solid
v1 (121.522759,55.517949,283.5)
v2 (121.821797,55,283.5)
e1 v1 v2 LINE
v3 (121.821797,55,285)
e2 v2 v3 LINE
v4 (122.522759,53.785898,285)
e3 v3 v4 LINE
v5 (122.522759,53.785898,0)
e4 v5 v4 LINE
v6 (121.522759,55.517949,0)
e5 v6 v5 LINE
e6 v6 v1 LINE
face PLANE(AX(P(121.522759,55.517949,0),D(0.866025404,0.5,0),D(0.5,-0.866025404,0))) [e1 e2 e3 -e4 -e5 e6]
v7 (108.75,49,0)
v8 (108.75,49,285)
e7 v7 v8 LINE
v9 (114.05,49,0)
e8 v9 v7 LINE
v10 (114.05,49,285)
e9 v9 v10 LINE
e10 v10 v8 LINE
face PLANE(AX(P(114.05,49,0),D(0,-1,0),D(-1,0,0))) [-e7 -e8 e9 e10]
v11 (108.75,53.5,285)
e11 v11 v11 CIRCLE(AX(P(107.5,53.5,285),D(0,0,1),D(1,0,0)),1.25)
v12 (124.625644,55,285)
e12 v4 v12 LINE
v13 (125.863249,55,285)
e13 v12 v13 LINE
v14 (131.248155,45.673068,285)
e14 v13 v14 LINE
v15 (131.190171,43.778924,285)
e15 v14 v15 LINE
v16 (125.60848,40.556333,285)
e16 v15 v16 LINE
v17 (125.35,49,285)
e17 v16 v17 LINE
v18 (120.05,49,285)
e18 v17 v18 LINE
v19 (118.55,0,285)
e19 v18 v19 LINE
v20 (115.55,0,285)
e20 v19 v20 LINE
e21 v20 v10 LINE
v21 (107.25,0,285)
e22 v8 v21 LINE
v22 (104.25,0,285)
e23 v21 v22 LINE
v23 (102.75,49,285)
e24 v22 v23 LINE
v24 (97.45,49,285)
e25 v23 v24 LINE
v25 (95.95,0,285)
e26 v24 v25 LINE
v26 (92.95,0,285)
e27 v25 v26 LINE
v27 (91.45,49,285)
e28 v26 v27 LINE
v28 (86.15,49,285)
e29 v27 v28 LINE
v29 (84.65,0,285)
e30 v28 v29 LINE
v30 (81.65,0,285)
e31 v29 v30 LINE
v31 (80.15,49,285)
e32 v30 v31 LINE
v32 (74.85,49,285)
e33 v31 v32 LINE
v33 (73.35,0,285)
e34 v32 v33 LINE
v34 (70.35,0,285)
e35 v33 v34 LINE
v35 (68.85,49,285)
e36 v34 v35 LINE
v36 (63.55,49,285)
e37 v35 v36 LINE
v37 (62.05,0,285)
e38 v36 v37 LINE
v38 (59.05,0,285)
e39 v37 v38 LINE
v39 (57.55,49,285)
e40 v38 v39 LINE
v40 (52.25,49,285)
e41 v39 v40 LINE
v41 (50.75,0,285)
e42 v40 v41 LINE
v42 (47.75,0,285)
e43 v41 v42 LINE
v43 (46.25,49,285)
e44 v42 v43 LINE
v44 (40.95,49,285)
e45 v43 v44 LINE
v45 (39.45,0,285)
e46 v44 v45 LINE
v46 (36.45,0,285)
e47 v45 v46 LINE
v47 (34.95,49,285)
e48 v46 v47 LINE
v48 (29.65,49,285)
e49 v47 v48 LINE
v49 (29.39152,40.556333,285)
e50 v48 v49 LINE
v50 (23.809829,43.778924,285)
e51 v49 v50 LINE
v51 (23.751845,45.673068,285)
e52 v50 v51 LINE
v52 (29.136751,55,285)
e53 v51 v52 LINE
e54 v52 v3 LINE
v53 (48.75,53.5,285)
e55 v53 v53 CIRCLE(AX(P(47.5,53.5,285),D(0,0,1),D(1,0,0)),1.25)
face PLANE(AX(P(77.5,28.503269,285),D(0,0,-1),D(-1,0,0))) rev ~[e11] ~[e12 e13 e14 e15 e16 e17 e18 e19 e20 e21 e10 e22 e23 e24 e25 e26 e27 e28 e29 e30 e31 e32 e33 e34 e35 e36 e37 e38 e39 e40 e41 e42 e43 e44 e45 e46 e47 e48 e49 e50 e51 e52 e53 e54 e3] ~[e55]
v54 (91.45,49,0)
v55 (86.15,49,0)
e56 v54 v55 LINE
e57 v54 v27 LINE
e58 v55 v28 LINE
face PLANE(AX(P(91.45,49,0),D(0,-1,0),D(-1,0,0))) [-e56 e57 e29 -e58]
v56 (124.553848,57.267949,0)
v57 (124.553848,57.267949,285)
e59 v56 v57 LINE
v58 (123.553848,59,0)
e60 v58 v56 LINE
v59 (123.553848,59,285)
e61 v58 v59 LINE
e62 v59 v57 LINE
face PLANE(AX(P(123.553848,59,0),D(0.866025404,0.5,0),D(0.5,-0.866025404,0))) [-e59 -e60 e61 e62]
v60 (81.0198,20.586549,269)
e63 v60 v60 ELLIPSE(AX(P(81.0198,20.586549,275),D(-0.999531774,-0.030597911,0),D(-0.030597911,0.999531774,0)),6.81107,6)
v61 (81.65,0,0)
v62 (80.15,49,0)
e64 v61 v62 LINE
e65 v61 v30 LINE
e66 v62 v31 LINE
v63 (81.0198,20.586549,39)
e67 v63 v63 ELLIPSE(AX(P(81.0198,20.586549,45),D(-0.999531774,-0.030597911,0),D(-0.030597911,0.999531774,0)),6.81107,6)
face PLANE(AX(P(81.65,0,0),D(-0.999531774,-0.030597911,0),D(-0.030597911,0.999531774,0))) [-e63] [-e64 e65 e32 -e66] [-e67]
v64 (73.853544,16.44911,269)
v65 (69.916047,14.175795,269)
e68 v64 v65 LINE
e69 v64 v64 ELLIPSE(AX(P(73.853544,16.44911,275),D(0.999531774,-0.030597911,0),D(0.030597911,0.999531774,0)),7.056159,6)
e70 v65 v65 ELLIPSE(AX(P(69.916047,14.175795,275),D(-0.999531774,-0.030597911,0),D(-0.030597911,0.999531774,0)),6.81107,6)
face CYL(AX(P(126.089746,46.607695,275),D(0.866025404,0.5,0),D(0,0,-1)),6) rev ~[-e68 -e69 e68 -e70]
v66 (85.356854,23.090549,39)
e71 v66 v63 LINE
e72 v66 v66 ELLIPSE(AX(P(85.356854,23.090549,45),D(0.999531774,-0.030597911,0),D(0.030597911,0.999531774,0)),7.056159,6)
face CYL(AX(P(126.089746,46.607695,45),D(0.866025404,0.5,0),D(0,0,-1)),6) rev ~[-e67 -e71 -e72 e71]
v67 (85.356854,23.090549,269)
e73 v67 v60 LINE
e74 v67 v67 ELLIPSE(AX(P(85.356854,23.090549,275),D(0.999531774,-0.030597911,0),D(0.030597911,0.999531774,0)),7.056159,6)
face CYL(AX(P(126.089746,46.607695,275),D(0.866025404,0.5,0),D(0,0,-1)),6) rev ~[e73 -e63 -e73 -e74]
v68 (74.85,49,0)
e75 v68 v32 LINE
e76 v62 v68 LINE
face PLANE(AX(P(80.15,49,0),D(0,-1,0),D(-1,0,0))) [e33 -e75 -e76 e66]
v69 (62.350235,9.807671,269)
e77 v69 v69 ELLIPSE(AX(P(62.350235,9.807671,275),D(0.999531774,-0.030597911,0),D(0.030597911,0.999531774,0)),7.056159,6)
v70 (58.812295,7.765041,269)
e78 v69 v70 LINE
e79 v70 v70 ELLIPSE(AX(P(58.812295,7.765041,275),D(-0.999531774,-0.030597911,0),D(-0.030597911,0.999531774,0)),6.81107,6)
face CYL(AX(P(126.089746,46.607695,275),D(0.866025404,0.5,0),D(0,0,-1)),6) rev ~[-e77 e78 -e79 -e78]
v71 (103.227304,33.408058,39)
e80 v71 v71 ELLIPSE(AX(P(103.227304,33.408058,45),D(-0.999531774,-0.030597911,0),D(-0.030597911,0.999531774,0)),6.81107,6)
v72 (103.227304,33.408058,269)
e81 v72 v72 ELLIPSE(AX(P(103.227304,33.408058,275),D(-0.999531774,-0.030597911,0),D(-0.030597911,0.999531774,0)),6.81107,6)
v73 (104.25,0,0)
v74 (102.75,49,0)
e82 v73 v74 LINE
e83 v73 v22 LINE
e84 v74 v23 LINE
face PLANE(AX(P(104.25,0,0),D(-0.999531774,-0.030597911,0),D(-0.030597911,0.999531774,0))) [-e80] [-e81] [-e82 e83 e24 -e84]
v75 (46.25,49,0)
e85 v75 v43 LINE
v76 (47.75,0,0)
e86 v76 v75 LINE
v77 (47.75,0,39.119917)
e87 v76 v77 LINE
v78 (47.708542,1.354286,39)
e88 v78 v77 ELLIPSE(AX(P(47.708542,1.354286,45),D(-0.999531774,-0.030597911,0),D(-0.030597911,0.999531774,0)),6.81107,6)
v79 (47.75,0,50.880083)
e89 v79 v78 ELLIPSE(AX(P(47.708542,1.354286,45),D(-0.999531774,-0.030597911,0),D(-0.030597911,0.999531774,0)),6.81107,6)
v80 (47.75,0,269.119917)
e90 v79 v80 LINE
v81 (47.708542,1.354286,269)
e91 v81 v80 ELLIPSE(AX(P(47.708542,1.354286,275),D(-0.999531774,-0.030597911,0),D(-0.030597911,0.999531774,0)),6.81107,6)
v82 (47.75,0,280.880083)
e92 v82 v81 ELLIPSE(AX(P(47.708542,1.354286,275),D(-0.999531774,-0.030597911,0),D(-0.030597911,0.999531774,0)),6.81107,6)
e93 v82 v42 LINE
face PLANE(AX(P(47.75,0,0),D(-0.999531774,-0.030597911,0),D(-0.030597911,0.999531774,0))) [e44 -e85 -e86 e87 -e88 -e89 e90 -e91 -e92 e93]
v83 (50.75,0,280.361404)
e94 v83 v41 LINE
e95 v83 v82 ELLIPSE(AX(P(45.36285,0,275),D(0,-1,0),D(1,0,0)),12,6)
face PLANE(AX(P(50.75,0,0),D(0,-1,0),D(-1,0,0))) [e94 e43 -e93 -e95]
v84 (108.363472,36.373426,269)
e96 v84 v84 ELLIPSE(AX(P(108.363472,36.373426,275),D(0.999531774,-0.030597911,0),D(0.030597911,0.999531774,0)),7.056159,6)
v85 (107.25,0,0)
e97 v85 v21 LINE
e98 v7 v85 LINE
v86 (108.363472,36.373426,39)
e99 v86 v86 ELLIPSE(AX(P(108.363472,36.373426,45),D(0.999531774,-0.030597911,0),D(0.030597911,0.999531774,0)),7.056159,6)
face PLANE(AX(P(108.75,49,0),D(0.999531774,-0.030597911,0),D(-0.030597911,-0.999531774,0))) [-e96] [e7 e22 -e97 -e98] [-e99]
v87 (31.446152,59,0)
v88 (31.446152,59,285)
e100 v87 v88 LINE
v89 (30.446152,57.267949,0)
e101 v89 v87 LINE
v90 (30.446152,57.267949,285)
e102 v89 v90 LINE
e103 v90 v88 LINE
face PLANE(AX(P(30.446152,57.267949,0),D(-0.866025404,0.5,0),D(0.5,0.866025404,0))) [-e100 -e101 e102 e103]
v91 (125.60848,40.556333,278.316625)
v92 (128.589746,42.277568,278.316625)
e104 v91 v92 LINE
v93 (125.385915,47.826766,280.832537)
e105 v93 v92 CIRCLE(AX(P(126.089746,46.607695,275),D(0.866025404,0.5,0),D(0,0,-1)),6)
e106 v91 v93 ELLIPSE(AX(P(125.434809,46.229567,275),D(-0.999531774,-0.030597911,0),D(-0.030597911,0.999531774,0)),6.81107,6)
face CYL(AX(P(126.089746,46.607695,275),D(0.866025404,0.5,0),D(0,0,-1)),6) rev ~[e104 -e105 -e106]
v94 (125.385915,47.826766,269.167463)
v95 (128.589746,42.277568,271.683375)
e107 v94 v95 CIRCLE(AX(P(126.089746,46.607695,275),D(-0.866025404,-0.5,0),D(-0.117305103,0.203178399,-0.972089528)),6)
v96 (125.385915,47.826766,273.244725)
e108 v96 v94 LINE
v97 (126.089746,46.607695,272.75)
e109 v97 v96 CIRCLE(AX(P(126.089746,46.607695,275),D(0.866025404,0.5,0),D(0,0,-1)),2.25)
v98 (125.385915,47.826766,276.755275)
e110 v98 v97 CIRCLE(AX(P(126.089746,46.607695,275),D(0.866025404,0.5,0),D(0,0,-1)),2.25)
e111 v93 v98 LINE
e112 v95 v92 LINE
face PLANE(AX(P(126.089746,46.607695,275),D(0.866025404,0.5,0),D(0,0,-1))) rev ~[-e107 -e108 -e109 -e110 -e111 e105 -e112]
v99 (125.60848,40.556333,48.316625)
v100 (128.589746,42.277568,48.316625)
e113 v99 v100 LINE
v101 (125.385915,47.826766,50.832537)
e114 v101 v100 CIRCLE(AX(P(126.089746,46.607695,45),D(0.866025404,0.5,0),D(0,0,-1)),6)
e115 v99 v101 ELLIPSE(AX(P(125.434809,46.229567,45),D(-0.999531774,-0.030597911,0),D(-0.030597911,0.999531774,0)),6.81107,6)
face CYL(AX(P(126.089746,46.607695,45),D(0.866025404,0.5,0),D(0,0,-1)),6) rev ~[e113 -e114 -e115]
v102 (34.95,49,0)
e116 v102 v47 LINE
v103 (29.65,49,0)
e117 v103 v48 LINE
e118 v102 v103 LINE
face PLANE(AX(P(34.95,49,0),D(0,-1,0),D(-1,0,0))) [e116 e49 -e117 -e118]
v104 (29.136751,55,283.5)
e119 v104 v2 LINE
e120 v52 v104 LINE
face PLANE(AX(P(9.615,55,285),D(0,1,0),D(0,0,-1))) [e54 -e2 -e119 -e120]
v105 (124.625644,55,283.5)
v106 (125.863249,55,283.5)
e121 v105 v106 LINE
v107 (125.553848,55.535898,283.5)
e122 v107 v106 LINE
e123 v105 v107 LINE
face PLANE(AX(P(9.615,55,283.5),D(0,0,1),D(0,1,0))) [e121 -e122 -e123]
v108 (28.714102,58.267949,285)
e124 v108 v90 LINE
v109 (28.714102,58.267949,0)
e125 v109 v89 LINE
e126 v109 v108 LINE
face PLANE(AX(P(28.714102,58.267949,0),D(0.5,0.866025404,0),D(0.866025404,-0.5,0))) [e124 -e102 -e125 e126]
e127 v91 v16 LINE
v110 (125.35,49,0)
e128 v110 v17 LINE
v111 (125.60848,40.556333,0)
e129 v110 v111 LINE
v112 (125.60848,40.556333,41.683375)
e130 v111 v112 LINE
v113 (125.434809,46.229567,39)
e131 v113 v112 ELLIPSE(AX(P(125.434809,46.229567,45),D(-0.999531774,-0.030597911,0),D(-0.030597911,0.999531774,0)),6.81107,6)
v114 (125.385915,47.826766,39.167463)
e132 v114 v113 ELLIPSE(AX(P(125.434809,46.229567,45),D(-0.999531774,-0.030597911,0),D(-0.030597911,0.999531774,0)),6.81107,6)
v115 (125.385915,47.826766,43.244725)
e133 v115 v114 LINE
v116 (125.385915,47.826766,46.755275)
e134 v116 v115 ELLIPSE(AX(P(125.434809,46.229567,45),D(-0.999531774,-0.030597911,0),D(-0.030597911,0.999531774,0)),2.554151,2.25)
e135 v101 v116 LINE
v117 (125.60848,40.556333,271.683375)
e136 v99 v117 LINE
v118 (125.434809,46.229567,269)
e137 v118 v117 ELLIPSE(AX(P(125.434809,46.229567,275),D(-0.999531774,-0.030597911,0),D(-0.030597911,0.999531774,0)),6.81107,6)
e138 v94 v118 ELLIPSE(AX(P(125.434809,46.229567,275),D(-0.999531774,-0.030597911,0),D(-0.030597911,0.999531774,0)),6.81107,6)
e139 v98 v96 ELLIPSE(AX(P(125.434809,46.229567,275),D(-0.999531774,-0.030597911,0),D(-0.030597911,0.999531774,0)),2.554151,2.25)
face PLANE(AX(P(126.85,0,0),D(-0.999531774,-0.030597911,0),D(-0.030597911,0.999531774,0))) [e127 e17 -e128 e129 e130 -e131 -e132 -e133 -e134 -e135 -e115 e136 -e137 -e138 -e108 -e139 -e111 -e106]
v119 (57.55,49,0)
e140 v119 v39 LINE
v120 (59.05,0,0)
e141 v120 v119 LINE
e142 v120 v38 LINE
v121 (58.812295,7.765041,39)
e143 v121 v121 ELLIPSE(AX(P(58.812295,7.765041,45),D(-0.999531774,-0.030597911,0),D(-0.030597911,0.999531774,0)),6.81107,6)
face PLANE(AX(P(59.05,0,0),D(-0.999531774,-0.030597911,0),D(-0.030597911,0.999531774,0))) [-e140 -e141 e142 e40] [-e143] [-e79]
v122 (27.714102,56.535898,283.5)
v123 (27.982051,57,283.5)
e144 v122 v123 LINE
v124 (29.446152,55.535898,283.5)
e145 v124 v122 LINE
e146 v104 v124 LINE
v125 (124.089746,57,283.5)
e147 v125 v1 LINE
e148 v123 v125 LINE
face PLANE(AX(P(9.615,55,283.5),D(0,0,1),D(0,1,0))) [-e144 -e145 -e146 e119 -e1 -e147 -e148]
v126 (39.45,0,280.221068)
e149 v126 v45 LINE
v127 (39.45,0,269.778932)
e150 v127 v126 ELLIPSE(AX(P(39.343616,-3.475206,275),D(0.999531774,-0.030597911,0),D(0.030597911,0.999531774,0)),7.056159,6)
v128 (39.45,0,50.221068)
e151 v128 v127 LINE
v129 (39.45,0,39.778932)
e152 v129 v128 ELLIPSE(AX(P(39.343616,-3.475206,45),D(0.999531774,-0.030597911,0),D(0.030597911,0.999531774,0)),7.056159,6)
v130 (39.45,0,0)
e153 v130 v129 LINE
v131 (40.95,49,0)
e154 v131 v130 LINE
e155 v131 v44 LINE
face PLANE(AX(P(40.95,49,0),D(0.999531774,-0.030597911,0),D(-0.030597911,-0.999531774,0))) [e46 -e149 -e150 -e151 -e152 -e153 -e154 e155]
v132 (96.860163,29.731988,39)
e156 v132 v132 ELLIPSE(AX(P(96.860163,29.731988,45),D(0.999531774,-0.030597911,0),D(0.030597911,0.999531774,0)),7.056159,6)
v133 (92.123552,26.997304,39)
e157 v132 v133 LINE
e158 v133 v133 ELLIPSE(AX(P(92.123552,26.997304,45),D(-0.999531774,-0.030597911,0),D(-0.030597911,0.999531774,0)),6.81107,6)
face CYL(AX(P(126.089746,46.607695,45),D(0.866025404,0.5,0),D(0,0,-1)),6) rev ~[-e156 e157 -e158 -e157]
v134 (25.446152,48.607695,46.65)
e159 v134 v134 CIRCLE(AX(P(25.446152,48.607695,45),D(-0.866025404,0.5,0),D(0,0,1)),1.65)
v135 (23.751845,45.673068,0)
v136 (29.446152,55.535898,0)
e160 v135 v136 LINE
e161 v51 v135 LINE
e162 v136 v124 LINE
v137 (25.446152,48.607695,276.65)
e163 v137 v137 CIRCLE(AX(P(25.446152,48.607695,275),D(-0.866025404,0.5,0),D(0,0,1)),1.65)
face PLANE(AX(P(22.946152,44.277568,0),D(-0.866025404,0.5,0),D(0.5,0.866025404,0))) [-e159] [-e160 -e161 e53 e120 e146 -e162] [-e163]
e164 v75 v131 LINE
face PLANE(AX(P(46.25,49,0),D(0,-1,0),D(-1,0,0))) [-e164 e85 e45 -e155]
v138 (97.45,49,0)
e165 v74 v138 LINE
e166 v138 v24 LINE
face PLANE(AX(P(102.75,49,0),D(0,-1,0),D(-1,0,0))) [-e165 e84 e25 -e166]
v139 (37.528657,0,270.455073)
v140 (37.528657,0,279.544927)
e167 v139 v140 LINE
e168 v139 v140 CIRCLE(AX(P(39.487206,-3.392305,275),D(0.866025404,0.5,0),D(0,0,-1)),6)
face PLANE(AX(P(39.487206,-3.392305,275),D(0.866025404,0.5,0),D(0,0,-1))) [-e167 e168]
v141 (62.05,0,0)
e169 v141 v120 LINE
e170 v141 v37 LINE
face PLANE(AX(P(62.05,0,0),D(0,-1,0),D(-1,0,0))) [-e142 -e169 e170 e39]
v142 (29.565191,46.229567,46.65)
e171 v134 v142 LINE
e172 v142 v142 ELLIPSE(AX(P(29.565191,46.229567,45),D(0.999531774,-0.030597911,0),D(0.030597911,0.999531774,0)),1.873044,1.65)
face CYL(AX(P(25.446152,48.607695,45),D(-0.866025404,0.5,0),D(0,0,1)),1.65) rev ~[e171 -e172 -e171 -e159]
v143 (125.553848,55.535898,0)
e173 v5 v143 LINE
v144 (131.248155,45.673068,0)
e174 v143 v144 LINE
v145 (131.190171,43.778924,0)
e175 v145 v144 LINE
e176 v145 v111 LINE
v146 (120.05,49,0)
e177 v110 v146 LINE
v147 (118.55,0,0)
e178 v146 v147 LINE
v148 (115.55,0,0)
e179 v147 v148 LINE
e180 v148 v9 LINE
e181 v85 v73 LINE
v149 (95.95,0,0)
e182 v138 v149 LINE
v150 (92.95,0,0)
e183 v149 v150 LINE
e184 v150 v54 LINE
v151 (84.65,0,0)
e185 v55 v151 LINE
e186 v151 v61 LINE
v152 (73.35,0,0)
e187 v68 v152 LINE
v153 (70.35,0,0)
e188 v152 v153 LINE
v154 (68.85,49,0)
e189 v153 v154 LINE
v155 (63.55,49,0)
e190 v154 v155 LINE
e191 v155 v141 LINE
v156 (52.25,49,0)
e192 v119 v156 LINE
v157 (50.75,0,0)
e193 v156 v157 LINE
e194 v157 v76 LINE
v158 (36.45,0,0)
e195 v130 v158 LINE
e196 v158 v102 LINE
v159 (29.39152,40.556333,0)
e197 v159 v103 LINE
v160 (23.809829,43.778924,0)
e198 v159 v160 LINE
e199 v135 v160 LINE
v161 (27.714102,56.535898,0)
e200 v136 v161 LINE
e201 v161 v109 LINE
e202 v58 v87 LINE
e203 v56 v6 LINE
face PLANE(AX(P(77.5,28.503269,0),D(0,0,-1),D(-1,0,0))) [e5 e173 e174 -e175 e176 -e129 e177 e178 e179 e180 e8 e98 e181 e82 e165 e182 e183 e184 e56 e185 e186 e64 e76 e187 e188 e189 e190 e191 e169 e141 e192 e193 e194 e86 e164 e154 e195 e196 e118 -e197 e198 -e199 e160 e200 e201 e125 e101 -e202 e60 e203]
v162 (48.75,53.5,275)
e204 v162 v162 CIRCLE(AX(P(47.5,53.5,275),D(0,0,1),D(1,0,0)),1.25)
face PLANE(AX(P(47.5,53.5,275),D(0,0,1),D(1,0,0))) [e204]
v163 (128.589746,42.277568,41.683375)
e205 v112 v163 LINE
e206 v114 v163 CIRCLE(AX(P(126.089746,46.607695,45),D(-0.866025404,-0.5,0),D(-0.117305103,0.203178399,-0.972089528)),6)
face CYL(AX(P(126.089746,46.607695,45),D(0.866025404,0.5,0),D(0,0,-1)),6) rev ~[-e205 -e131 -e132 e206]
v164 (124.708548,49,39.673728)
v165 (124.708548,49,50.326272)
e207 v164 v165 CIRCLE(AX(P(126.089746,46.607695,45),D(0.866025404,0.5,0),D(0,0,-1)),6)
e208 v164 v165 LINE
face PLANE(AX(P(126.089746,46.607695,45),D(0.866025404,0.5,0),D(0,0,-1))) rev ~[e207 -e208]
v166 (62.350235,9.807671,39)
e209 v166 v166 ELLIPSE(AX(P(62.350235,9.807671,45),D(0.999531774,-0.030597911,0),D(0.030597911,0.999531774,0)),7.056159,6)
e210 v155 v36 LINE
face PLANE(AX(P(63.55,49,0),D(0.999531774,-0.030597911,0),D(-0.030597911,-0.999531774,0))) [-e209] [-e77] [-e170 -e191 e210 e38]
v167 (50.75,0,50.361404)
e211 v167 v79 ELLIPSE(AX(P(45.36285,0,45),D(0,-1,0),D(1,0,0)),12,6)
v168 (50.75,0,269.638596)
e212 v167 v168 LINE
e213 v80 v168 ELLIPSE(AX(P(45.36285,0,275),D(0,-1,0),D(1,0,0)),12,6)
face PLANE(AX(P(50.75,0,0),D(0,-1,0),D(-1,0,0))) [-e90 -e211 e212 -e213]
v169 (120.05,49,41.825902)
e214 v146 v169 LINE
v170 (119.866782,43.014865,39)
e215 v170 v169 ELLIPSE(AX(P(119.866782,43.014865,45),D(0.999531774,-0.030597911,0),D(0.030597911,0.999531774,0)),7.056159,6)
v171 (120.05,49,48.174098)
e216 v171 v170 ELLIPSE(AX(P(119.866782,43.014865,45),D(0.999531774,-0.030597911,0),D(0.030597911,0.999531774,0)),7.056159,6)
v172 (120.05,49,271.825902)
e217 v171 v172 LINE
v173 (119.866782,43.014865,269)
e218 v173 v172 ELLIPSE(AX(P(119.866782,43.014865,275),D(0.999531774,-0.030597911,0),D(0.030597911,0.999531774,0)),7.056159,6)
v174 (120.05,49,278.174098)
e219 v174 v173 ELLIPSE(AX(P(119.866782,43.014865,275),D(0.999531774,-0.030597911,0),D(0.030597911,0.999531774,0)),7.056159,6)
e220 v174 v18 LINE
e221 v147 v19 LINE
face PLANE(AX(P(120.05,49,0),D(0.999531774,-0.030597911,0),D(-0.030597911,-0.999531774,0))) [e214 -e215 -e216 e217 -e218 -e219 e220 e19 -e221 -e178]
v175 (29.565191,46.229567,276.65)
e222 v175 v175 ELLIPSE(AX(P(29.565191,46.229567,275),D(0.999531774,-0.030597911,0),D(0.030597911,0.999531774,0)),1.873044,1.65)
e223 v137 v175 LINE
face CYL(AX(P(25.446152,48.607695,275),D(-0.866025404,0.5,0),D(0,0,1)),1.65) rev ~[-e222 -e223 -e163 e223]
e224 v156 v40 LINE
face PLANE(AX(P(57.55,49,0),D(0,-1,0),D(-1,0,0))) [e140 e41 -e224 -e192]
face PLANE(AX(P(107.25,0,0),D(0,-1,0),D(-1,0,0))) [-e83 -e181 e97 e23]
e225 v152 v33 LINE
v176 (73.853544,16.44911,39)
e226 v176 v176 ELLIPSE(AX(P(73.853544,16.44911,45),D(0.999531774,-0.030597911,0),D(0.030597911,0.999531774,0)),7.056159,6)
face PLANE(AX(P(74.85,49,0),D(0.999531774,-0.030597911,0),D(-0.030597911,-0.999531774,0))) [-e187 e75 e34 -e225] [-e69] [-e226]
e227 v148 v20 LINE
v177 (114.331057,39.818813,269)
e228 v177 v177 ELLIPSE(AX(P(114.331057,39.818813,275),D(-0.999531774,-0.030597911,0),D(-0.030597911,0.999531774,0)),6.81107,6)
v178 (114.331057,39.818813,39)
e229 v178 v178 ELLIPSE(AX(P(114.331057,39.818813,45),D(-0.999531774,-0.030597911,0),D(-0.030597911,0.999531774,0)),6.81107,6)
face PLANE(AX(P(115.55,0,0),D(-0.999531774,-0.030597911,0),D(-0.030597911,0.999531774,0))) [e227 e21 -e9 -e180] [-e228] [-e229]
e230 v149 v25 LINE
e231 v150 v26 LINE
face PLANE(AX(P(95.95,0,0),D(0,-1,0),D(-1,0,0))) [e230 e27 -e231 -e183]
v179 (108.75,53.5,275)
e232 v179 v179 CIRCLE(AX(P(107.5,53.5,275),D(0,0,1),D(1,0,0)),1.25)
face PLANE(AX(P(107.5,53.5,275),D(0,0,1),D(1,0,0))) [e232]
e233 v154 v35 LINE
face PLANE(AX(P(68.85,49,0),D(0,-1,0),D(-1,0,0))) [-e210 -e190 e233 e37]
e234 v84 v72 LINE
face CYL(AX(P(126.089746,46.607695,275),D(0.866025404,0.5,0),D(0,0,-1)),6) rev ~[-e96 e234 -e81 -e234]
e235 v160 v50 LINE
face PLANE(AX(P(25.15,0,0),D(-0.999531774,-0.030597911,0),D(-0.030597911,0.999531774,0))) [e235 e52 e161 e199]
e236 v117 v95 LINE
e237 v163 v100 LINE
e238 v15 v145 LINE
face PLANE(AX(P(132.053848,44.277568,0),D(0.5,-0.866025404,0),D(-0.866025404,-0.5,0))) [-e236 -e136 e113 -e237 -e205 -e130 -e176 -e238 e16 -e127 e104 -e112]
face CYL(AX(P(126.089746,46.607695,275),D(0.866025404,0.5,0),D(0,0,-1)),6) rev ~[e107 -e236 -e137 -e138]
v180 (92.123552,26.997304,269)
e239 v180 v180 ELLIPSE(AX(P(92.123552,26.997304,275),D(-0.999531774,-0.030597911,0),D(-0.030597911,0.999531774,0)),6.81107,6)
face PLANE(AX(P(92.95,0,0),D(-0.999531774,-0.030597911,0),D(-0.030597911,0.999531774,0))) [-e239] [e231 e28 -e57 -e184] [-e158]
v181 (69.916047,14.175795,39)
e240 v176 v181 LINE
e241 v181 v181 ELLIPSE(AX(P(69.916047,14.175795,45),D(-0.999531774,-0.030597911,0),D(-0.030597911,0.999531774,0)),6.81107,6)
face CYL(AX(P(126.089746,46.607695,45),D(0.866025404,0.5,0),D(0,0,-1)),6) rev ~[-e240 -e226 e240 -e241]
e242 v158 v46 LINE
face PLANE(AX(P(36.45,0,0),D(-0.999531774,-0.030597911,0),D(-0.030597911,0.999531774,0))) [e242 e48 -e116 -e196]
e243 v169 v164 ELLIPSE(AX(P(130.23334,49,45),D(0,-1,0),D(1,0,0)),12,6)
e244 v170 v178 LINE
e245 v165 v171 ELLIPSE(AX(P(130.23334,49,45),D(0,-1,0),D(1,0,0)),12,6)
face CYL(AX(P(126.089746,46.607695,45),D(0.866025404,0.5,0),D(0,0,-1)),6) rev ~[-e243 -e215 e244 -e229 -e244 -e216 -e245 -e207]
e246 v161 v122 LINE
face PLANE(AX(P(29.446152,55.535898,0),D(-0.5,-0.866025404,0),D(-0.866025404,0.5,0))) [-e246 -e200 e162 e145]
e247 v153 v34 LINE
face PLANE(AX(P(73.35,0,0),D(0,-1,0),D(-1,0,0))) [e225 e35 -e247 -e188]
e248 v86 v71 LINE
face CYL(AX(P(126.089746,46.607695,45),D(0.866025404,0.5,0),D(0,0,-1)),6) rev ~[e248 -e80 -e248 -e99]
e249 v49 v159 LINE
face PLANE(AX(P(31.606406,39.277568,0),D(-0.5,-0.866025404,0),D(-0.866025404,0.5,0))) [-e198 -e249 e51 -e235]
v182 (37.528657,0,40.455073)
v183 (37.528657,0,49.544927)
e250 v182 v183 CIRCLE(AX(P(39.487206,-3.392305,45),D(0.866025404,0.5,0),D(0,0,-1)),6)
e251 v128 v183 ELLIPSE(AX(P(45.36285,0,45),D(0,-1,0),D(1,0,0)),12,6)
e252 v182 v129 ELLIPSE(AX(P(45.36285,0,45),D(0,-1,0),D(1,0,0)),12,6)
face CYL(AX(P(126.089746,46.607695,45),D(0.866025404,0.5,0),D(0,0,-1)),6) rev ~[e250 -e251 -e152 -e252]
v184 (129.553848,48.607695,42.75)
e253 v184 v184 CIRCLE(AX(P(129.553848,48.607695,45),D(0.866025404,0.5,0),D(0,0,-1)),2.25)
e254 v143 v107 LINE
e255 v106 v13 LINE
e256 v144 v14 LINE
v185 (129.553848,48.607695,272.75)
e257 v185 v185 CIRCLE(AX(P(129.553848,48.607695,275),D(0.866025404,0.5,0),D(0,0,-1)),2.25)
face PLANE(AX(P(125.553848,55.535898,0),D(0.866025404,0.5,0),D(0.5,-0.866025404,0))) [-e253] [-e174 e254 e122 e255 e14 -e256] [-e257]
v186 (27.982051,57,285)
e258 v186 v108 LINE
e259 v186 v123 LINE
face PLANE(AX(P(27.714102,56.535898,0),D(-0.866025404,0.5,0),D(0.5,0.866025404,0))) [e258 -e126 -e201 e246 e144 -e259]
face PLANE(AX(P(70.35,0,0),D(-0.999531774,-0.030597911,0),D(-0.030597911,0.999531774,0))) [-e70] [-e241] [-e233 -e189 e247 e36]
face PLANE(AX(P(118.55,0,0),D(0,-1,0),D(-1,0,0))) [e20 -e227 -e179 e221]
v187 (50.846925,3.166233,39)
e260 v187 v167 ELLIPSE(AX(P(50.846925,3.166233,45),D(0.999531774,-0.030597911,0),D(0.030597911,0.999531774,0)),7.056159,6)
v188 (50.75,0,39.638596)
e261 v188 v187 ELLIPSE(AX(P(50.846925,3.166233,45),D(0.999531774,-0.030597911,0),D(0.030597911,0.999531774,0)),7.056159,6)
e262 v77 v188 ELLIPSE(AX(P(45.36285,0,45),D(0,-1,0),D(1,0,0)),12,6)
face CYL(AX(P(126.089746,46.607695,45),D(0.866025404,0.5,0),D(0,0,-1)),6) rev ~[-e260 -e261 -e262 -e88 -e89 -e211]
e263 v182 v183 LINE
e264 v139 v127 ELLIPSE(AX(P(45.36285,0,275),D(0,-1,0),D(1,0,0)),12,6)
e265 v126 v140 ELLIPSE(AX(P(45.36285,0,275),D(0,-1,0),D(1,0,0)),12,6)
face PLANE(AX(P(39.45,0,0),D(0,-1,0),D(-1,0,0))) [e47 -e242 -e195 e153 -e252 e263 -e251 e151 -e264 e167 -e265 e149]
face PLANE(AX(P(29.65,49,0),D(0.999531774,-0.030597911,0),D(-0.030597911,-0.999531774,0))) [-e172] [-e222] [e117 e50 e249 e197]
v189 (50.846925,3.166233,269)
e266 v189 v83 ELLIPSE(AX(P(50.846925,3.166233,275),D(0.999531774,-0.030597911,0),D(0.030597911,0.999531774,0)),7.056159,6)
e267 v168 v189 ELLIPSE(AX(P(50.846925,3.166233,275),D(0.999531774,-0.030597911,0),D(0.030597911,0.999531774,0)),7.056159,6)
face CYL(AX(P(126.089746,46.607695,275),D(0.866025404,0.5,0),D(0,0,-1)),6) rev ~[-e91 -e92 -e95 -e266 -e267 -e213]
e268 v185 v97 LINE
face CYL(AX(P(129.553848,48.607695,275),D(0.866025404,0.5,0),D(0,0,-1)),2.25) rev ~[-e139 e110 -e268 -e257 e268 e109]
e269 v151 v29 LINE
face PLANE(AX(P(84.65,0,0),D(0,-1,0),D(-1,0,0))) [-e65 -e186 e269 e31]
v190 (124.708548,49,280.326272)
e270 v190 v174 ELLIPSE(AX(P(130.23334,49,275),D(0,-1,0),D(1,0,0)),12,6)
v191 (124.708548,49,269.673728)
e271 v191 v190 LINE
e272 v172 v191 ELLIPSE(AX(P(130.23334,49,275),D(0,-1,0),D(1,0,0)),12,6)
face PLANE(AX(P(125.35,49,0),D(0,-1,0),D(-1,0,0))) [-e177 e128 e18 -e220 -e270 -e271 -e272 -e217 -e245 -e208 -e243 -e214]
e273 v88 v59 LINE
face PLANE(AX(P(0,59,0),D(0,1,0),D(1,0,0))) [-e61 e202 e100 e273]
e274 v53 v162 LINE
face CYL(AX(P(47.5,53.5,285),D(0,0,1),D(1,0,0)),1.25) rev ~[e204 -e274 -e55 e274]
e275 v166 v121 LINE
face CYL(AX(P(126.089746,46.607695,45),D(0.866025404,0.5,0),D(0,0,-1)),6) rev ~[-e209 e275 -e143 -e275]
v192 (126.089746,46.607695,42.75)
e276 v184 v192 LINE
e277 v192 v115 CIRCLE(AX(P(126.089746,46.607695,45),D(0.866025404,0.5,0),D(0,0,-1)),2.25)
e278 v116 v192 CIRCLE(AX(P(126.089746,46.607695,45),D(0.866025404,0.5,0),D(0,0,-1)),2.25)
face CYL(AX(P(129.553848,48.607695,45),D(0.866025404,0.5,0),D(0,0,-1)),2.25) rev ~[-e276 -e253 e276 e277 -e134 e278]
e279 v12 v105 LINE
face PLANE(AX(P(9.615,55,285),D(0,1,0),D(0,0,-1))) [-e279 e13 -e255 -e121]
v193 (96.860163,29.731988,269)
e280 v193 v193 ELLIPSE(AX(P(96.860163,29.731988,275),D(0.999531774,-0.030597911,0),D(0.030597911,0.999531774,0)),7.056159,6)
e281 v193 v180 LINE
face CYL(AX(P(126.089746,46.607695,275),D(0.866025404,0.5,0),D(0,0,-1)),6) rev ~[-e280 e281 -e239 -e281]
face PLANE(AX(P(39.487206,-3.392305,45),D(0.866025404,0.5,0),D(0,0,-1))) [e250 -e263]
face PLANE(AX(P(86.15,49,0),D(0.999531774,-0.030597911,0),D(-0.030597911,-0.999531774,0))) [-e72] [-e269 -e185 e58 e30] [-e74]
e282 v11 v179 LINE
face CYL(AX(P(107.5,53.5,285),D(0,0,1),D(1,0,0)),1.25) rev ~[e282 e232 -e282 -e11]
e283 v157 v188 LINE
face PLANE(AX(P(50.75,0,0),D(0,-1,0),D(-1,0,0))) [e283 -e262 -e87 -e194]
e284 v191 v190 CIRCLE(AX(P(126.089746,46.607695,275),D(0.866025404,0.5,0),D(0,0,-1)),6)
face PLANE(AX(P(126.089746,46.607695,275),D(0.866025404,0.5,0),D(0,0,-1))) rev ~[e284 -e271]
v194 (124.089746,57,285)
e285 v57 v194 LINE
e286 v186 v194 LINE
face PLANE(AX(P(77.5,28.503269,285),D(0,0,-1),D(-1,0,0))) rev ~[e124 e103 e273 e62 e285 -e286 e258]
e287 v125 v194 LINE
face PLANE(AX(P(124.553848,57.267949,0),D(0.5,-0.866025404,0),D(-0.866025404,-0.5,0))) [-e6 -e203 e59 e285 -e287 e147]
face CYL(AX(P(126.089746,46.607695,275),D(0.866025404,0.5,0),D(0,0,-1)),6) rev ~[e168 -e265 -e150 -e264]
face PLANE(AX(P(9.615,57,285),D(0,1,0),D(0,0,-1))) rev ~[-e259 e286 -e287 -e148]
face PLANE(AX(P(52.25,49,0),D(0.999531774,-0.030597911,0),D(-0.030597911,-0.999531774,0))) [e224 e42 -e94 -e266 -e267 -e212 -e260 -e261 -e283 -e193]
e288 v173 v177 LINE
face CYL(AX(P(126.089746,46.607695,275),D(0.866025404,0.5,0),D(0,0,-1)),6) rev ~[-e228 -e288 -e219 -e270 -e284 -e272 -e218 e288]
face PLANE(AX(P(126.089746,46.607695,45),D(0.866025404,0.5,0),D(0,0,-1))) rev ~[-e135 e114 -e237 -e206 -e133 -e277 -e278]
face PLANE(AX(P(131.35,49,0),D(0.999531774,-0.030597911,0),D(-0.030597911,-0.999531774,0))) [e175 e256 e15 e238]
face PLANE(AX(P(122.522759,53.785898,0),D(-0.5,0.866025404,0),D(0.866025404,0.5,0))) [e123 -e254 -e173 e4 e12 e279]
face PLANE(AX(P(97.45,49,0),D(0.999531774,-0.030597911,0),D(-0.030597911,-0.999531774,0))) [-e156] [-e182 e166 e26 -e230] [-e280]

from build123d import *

# Parameters (mm, degrees)
RESSALTO_EXTRUS_O1_DEPTH   = 285
CORTE_EXTRUS_O1_DEPTH      = 1
CORTE_EXTRUS_O1_DEPTH_BACK = 286
ESBO_O3_R                  = 1.25
CORTE_EXTRUS_O2_DEPTH      = 10
ESBO_O4_W                  = 1.5
ESBO_O4_H                  = 2
CORTE_EXTRUS_O3_DEPTH      = 122.633155154
CORTE_EXTRUS_O3_DEPTH_BACK = 1
ESBO_O5_R                  = 1.65
CORTE_EXTRUS_O4_DEPTH      = 10
ESBO_O6_R                  = 2.25
CORTE_EXTRUS_O5_DEPTH      = 7.663465826
CORTE_EXTRUS_O5_DEPTH_BACK = 116.931069713
CORTE_EXTRUS_O6_START      = -4
ESBO_O8_R                  = 6
CORTE_EXTRUS_O6_DEPTH      = 100


with BuildPart() as part:
    # Esboço1 → Ressalto-extrusão1 (new body)
    with BuildSketch(Plane.XY):
        Polygon((0, 59), (155, 59), (155, 49), (153.95, 49), (152.45, 0), (149.45, 0), (147.95, 49), (142.65, 49), (141.15, 0), (138.15, 0), (136.65, 49), (131.35, 49), (129.85, 0), (126.85, 0), (125.35, 49), (120.05, 49), (118.55, 0), (115.55, 0), (114.05, 49), (108.75, 49), (107.25, 0), (104.25, 0), (102.75, 49), (97.45, 49), (95.95, 0), (92.95, 0), (91.45, 49), (86.15, 49), (84.65, 0), (81.65, 0), (80.15, 49), (74.85, 49), (73.35, 0), (70.35, 0), (68.85, 49), (63.55, 49), (62.05, 0), (59.05, 0), (57.55, 49), (52.25, 49), (50.75, 0), (47.75, 0), (46.25, 49), (40.95, 49), (39.45, 0), (36.45, 0), (34.95, 49), (29.65, 49), (28.15, 0), (25.15, 0), (23.65, 49), (18.35, 49), (16.85, 0), (13.85, 0), (12.35, 49), (7.05, 49), (5.55, 0), (2.55, 0), (1.05, 49), (0, 49), align=None)
    extrude(amount=RESSALTO_EXTRUS_O1_DEPTH)

    # Esboço2 → Corte-extrusão1 (cut, two sides)
    with BuildSketch(Plane(origin=(0, 0, 0), x_dir=(-1, 0, 0), z_dir=(0, 0, -1))) as corte_extrus_o1_sk:
        Polygon((-125.553847577, 55.535898385), (-132.053847577, 44.277568136), (-123.393593539, 39.277568136), (-123.393593539, -2.181608297), (-157.209350175, -2.181608297), (-157.209350175, 65.2147657), (-123.553847577, 65.2147657), (-123.553847577, 59), (-124.553847577, 57.267949192), (-121.522758664, 55.517949192), (-122.522758664, 53.785898385), align=None)
        Polygon((-31.446152423, 59), (7.52965499, 59), (7.52965499, -3.444074002), (-31.606406461, -3.444074002), (-31.606406461, 39.277568136), (-22.946152423, 44.277568136), (-29.446152423, 55.535898385), (-27.714101615, 56.535898385), (-28.714101615, 58.267949192), (-30.446152423, 57.267949192), align=None)
    extrude(amount=CORTE_EXTRUS_O1_DEPTH, mode=Mode.SUBTRACT)
    extrude(corte_extrus_o1_sk.sketch, amount=-CORTE_EXTRUS_O1_DEPTH_BACK, mode=Mode.SUBTRACT)

    # Esboço3 → Corte-extrusão2 (cut)
    with BuildSketch(Plane.XY.offset(285)):
        with Locations((47.5, 53.5)):
            Circle(ESBO_O3_R)
        with Locations((107.5, 53.5)):
            Circle(ESBO_O3_R)
    extrude(amount=-CORTE_EXTRUS_O2_DEPTH, mode=Mode.SUBTRACT)

    # Esboço4 → Corte-extrusão3 (cut, two sides)
    with BuildSketch(Plane(origin=(9.615, -2.555719938, 0), x_dir=(0, 0, -1), z_dir=(1, 0, 0))) as corte_extrus_o3_sk:
        with Locations((-284.25, 58.555719938)):
            Rectangle(ESBO_O4_W, ESBO_O4_H)
    extrude(amount=CORTE_EXTRUS_O3_DEPTH, mode=Mode.SUBTRACT)
    extrude(corte_extrus_o3_sk.sketch, amount=-CORTE_EXTRUS_O3_DEPTH_BACK, mode=Mode.SUBTRACT)

    # Esboço5 → Corte-extrusão4 (cut)
    with BuildSketch(Plane(origin=(-1.963135095, 1.133416575, 0), x_dir=(0, 0, 1), z_dir=(-0.866025404, 0.5, 0))):
        with Locations((45, 54.818575035)):
            Circle(ESBO_O5_R)
        with Locations((275, 54.818575035)):
            Circle(ESBO_O5_R)
    extrude(amount=-CORTE_EXTRUS_O4_DEPTH, mode=Mode.SUBTRACT)

    # Esboço6 → Corte-extrusão5 (cut, two sides)
    with BuildSketch(Plane(origin=(118.213135095, 68.250385369, 0), x_dir=(0, 0, -1), z_dir=(0.866025404, 0.5, 0))) as corte_extrus_o5_sk:
        with Locations((-275, -22.681424965)):
            Circle(ESBO_O6_R)
        with Locations((-45, -22.681424965)):
            Circle(ESBO_O6_R)
    extrude(amount=CORTE_EXTRUS_O5_DEPTH, mode=Mode.SUBTRACT)
    extrude(corte_extrus_o5_sk.sketch, amount=-CORTE_EXTRUS_O5_DEPTH_BACK, mode=Mode.SUBTRACT)

    # Esboço8 → Corte-extrusão6 (cut)
    with BuildSketch(Plane(origin=(118.213135095, 68.250385369, 0), x_dir=(0, 0, -1), z_dir=(0.866025404, 0.5, 0)).offset(CORTE_EXTRUS_O6_START)):
        with Locations((-275, -22.681424965)):
            Circle(ESBO_O8_R)
        with Locations((-45, -22.681424965)):
            Circle(ESBO_O8_R)
    extrude(amount=-CORTE_EXTRUS_O6_DEPTH, mode=Mode.SUBTRACT)


solid = part.part
